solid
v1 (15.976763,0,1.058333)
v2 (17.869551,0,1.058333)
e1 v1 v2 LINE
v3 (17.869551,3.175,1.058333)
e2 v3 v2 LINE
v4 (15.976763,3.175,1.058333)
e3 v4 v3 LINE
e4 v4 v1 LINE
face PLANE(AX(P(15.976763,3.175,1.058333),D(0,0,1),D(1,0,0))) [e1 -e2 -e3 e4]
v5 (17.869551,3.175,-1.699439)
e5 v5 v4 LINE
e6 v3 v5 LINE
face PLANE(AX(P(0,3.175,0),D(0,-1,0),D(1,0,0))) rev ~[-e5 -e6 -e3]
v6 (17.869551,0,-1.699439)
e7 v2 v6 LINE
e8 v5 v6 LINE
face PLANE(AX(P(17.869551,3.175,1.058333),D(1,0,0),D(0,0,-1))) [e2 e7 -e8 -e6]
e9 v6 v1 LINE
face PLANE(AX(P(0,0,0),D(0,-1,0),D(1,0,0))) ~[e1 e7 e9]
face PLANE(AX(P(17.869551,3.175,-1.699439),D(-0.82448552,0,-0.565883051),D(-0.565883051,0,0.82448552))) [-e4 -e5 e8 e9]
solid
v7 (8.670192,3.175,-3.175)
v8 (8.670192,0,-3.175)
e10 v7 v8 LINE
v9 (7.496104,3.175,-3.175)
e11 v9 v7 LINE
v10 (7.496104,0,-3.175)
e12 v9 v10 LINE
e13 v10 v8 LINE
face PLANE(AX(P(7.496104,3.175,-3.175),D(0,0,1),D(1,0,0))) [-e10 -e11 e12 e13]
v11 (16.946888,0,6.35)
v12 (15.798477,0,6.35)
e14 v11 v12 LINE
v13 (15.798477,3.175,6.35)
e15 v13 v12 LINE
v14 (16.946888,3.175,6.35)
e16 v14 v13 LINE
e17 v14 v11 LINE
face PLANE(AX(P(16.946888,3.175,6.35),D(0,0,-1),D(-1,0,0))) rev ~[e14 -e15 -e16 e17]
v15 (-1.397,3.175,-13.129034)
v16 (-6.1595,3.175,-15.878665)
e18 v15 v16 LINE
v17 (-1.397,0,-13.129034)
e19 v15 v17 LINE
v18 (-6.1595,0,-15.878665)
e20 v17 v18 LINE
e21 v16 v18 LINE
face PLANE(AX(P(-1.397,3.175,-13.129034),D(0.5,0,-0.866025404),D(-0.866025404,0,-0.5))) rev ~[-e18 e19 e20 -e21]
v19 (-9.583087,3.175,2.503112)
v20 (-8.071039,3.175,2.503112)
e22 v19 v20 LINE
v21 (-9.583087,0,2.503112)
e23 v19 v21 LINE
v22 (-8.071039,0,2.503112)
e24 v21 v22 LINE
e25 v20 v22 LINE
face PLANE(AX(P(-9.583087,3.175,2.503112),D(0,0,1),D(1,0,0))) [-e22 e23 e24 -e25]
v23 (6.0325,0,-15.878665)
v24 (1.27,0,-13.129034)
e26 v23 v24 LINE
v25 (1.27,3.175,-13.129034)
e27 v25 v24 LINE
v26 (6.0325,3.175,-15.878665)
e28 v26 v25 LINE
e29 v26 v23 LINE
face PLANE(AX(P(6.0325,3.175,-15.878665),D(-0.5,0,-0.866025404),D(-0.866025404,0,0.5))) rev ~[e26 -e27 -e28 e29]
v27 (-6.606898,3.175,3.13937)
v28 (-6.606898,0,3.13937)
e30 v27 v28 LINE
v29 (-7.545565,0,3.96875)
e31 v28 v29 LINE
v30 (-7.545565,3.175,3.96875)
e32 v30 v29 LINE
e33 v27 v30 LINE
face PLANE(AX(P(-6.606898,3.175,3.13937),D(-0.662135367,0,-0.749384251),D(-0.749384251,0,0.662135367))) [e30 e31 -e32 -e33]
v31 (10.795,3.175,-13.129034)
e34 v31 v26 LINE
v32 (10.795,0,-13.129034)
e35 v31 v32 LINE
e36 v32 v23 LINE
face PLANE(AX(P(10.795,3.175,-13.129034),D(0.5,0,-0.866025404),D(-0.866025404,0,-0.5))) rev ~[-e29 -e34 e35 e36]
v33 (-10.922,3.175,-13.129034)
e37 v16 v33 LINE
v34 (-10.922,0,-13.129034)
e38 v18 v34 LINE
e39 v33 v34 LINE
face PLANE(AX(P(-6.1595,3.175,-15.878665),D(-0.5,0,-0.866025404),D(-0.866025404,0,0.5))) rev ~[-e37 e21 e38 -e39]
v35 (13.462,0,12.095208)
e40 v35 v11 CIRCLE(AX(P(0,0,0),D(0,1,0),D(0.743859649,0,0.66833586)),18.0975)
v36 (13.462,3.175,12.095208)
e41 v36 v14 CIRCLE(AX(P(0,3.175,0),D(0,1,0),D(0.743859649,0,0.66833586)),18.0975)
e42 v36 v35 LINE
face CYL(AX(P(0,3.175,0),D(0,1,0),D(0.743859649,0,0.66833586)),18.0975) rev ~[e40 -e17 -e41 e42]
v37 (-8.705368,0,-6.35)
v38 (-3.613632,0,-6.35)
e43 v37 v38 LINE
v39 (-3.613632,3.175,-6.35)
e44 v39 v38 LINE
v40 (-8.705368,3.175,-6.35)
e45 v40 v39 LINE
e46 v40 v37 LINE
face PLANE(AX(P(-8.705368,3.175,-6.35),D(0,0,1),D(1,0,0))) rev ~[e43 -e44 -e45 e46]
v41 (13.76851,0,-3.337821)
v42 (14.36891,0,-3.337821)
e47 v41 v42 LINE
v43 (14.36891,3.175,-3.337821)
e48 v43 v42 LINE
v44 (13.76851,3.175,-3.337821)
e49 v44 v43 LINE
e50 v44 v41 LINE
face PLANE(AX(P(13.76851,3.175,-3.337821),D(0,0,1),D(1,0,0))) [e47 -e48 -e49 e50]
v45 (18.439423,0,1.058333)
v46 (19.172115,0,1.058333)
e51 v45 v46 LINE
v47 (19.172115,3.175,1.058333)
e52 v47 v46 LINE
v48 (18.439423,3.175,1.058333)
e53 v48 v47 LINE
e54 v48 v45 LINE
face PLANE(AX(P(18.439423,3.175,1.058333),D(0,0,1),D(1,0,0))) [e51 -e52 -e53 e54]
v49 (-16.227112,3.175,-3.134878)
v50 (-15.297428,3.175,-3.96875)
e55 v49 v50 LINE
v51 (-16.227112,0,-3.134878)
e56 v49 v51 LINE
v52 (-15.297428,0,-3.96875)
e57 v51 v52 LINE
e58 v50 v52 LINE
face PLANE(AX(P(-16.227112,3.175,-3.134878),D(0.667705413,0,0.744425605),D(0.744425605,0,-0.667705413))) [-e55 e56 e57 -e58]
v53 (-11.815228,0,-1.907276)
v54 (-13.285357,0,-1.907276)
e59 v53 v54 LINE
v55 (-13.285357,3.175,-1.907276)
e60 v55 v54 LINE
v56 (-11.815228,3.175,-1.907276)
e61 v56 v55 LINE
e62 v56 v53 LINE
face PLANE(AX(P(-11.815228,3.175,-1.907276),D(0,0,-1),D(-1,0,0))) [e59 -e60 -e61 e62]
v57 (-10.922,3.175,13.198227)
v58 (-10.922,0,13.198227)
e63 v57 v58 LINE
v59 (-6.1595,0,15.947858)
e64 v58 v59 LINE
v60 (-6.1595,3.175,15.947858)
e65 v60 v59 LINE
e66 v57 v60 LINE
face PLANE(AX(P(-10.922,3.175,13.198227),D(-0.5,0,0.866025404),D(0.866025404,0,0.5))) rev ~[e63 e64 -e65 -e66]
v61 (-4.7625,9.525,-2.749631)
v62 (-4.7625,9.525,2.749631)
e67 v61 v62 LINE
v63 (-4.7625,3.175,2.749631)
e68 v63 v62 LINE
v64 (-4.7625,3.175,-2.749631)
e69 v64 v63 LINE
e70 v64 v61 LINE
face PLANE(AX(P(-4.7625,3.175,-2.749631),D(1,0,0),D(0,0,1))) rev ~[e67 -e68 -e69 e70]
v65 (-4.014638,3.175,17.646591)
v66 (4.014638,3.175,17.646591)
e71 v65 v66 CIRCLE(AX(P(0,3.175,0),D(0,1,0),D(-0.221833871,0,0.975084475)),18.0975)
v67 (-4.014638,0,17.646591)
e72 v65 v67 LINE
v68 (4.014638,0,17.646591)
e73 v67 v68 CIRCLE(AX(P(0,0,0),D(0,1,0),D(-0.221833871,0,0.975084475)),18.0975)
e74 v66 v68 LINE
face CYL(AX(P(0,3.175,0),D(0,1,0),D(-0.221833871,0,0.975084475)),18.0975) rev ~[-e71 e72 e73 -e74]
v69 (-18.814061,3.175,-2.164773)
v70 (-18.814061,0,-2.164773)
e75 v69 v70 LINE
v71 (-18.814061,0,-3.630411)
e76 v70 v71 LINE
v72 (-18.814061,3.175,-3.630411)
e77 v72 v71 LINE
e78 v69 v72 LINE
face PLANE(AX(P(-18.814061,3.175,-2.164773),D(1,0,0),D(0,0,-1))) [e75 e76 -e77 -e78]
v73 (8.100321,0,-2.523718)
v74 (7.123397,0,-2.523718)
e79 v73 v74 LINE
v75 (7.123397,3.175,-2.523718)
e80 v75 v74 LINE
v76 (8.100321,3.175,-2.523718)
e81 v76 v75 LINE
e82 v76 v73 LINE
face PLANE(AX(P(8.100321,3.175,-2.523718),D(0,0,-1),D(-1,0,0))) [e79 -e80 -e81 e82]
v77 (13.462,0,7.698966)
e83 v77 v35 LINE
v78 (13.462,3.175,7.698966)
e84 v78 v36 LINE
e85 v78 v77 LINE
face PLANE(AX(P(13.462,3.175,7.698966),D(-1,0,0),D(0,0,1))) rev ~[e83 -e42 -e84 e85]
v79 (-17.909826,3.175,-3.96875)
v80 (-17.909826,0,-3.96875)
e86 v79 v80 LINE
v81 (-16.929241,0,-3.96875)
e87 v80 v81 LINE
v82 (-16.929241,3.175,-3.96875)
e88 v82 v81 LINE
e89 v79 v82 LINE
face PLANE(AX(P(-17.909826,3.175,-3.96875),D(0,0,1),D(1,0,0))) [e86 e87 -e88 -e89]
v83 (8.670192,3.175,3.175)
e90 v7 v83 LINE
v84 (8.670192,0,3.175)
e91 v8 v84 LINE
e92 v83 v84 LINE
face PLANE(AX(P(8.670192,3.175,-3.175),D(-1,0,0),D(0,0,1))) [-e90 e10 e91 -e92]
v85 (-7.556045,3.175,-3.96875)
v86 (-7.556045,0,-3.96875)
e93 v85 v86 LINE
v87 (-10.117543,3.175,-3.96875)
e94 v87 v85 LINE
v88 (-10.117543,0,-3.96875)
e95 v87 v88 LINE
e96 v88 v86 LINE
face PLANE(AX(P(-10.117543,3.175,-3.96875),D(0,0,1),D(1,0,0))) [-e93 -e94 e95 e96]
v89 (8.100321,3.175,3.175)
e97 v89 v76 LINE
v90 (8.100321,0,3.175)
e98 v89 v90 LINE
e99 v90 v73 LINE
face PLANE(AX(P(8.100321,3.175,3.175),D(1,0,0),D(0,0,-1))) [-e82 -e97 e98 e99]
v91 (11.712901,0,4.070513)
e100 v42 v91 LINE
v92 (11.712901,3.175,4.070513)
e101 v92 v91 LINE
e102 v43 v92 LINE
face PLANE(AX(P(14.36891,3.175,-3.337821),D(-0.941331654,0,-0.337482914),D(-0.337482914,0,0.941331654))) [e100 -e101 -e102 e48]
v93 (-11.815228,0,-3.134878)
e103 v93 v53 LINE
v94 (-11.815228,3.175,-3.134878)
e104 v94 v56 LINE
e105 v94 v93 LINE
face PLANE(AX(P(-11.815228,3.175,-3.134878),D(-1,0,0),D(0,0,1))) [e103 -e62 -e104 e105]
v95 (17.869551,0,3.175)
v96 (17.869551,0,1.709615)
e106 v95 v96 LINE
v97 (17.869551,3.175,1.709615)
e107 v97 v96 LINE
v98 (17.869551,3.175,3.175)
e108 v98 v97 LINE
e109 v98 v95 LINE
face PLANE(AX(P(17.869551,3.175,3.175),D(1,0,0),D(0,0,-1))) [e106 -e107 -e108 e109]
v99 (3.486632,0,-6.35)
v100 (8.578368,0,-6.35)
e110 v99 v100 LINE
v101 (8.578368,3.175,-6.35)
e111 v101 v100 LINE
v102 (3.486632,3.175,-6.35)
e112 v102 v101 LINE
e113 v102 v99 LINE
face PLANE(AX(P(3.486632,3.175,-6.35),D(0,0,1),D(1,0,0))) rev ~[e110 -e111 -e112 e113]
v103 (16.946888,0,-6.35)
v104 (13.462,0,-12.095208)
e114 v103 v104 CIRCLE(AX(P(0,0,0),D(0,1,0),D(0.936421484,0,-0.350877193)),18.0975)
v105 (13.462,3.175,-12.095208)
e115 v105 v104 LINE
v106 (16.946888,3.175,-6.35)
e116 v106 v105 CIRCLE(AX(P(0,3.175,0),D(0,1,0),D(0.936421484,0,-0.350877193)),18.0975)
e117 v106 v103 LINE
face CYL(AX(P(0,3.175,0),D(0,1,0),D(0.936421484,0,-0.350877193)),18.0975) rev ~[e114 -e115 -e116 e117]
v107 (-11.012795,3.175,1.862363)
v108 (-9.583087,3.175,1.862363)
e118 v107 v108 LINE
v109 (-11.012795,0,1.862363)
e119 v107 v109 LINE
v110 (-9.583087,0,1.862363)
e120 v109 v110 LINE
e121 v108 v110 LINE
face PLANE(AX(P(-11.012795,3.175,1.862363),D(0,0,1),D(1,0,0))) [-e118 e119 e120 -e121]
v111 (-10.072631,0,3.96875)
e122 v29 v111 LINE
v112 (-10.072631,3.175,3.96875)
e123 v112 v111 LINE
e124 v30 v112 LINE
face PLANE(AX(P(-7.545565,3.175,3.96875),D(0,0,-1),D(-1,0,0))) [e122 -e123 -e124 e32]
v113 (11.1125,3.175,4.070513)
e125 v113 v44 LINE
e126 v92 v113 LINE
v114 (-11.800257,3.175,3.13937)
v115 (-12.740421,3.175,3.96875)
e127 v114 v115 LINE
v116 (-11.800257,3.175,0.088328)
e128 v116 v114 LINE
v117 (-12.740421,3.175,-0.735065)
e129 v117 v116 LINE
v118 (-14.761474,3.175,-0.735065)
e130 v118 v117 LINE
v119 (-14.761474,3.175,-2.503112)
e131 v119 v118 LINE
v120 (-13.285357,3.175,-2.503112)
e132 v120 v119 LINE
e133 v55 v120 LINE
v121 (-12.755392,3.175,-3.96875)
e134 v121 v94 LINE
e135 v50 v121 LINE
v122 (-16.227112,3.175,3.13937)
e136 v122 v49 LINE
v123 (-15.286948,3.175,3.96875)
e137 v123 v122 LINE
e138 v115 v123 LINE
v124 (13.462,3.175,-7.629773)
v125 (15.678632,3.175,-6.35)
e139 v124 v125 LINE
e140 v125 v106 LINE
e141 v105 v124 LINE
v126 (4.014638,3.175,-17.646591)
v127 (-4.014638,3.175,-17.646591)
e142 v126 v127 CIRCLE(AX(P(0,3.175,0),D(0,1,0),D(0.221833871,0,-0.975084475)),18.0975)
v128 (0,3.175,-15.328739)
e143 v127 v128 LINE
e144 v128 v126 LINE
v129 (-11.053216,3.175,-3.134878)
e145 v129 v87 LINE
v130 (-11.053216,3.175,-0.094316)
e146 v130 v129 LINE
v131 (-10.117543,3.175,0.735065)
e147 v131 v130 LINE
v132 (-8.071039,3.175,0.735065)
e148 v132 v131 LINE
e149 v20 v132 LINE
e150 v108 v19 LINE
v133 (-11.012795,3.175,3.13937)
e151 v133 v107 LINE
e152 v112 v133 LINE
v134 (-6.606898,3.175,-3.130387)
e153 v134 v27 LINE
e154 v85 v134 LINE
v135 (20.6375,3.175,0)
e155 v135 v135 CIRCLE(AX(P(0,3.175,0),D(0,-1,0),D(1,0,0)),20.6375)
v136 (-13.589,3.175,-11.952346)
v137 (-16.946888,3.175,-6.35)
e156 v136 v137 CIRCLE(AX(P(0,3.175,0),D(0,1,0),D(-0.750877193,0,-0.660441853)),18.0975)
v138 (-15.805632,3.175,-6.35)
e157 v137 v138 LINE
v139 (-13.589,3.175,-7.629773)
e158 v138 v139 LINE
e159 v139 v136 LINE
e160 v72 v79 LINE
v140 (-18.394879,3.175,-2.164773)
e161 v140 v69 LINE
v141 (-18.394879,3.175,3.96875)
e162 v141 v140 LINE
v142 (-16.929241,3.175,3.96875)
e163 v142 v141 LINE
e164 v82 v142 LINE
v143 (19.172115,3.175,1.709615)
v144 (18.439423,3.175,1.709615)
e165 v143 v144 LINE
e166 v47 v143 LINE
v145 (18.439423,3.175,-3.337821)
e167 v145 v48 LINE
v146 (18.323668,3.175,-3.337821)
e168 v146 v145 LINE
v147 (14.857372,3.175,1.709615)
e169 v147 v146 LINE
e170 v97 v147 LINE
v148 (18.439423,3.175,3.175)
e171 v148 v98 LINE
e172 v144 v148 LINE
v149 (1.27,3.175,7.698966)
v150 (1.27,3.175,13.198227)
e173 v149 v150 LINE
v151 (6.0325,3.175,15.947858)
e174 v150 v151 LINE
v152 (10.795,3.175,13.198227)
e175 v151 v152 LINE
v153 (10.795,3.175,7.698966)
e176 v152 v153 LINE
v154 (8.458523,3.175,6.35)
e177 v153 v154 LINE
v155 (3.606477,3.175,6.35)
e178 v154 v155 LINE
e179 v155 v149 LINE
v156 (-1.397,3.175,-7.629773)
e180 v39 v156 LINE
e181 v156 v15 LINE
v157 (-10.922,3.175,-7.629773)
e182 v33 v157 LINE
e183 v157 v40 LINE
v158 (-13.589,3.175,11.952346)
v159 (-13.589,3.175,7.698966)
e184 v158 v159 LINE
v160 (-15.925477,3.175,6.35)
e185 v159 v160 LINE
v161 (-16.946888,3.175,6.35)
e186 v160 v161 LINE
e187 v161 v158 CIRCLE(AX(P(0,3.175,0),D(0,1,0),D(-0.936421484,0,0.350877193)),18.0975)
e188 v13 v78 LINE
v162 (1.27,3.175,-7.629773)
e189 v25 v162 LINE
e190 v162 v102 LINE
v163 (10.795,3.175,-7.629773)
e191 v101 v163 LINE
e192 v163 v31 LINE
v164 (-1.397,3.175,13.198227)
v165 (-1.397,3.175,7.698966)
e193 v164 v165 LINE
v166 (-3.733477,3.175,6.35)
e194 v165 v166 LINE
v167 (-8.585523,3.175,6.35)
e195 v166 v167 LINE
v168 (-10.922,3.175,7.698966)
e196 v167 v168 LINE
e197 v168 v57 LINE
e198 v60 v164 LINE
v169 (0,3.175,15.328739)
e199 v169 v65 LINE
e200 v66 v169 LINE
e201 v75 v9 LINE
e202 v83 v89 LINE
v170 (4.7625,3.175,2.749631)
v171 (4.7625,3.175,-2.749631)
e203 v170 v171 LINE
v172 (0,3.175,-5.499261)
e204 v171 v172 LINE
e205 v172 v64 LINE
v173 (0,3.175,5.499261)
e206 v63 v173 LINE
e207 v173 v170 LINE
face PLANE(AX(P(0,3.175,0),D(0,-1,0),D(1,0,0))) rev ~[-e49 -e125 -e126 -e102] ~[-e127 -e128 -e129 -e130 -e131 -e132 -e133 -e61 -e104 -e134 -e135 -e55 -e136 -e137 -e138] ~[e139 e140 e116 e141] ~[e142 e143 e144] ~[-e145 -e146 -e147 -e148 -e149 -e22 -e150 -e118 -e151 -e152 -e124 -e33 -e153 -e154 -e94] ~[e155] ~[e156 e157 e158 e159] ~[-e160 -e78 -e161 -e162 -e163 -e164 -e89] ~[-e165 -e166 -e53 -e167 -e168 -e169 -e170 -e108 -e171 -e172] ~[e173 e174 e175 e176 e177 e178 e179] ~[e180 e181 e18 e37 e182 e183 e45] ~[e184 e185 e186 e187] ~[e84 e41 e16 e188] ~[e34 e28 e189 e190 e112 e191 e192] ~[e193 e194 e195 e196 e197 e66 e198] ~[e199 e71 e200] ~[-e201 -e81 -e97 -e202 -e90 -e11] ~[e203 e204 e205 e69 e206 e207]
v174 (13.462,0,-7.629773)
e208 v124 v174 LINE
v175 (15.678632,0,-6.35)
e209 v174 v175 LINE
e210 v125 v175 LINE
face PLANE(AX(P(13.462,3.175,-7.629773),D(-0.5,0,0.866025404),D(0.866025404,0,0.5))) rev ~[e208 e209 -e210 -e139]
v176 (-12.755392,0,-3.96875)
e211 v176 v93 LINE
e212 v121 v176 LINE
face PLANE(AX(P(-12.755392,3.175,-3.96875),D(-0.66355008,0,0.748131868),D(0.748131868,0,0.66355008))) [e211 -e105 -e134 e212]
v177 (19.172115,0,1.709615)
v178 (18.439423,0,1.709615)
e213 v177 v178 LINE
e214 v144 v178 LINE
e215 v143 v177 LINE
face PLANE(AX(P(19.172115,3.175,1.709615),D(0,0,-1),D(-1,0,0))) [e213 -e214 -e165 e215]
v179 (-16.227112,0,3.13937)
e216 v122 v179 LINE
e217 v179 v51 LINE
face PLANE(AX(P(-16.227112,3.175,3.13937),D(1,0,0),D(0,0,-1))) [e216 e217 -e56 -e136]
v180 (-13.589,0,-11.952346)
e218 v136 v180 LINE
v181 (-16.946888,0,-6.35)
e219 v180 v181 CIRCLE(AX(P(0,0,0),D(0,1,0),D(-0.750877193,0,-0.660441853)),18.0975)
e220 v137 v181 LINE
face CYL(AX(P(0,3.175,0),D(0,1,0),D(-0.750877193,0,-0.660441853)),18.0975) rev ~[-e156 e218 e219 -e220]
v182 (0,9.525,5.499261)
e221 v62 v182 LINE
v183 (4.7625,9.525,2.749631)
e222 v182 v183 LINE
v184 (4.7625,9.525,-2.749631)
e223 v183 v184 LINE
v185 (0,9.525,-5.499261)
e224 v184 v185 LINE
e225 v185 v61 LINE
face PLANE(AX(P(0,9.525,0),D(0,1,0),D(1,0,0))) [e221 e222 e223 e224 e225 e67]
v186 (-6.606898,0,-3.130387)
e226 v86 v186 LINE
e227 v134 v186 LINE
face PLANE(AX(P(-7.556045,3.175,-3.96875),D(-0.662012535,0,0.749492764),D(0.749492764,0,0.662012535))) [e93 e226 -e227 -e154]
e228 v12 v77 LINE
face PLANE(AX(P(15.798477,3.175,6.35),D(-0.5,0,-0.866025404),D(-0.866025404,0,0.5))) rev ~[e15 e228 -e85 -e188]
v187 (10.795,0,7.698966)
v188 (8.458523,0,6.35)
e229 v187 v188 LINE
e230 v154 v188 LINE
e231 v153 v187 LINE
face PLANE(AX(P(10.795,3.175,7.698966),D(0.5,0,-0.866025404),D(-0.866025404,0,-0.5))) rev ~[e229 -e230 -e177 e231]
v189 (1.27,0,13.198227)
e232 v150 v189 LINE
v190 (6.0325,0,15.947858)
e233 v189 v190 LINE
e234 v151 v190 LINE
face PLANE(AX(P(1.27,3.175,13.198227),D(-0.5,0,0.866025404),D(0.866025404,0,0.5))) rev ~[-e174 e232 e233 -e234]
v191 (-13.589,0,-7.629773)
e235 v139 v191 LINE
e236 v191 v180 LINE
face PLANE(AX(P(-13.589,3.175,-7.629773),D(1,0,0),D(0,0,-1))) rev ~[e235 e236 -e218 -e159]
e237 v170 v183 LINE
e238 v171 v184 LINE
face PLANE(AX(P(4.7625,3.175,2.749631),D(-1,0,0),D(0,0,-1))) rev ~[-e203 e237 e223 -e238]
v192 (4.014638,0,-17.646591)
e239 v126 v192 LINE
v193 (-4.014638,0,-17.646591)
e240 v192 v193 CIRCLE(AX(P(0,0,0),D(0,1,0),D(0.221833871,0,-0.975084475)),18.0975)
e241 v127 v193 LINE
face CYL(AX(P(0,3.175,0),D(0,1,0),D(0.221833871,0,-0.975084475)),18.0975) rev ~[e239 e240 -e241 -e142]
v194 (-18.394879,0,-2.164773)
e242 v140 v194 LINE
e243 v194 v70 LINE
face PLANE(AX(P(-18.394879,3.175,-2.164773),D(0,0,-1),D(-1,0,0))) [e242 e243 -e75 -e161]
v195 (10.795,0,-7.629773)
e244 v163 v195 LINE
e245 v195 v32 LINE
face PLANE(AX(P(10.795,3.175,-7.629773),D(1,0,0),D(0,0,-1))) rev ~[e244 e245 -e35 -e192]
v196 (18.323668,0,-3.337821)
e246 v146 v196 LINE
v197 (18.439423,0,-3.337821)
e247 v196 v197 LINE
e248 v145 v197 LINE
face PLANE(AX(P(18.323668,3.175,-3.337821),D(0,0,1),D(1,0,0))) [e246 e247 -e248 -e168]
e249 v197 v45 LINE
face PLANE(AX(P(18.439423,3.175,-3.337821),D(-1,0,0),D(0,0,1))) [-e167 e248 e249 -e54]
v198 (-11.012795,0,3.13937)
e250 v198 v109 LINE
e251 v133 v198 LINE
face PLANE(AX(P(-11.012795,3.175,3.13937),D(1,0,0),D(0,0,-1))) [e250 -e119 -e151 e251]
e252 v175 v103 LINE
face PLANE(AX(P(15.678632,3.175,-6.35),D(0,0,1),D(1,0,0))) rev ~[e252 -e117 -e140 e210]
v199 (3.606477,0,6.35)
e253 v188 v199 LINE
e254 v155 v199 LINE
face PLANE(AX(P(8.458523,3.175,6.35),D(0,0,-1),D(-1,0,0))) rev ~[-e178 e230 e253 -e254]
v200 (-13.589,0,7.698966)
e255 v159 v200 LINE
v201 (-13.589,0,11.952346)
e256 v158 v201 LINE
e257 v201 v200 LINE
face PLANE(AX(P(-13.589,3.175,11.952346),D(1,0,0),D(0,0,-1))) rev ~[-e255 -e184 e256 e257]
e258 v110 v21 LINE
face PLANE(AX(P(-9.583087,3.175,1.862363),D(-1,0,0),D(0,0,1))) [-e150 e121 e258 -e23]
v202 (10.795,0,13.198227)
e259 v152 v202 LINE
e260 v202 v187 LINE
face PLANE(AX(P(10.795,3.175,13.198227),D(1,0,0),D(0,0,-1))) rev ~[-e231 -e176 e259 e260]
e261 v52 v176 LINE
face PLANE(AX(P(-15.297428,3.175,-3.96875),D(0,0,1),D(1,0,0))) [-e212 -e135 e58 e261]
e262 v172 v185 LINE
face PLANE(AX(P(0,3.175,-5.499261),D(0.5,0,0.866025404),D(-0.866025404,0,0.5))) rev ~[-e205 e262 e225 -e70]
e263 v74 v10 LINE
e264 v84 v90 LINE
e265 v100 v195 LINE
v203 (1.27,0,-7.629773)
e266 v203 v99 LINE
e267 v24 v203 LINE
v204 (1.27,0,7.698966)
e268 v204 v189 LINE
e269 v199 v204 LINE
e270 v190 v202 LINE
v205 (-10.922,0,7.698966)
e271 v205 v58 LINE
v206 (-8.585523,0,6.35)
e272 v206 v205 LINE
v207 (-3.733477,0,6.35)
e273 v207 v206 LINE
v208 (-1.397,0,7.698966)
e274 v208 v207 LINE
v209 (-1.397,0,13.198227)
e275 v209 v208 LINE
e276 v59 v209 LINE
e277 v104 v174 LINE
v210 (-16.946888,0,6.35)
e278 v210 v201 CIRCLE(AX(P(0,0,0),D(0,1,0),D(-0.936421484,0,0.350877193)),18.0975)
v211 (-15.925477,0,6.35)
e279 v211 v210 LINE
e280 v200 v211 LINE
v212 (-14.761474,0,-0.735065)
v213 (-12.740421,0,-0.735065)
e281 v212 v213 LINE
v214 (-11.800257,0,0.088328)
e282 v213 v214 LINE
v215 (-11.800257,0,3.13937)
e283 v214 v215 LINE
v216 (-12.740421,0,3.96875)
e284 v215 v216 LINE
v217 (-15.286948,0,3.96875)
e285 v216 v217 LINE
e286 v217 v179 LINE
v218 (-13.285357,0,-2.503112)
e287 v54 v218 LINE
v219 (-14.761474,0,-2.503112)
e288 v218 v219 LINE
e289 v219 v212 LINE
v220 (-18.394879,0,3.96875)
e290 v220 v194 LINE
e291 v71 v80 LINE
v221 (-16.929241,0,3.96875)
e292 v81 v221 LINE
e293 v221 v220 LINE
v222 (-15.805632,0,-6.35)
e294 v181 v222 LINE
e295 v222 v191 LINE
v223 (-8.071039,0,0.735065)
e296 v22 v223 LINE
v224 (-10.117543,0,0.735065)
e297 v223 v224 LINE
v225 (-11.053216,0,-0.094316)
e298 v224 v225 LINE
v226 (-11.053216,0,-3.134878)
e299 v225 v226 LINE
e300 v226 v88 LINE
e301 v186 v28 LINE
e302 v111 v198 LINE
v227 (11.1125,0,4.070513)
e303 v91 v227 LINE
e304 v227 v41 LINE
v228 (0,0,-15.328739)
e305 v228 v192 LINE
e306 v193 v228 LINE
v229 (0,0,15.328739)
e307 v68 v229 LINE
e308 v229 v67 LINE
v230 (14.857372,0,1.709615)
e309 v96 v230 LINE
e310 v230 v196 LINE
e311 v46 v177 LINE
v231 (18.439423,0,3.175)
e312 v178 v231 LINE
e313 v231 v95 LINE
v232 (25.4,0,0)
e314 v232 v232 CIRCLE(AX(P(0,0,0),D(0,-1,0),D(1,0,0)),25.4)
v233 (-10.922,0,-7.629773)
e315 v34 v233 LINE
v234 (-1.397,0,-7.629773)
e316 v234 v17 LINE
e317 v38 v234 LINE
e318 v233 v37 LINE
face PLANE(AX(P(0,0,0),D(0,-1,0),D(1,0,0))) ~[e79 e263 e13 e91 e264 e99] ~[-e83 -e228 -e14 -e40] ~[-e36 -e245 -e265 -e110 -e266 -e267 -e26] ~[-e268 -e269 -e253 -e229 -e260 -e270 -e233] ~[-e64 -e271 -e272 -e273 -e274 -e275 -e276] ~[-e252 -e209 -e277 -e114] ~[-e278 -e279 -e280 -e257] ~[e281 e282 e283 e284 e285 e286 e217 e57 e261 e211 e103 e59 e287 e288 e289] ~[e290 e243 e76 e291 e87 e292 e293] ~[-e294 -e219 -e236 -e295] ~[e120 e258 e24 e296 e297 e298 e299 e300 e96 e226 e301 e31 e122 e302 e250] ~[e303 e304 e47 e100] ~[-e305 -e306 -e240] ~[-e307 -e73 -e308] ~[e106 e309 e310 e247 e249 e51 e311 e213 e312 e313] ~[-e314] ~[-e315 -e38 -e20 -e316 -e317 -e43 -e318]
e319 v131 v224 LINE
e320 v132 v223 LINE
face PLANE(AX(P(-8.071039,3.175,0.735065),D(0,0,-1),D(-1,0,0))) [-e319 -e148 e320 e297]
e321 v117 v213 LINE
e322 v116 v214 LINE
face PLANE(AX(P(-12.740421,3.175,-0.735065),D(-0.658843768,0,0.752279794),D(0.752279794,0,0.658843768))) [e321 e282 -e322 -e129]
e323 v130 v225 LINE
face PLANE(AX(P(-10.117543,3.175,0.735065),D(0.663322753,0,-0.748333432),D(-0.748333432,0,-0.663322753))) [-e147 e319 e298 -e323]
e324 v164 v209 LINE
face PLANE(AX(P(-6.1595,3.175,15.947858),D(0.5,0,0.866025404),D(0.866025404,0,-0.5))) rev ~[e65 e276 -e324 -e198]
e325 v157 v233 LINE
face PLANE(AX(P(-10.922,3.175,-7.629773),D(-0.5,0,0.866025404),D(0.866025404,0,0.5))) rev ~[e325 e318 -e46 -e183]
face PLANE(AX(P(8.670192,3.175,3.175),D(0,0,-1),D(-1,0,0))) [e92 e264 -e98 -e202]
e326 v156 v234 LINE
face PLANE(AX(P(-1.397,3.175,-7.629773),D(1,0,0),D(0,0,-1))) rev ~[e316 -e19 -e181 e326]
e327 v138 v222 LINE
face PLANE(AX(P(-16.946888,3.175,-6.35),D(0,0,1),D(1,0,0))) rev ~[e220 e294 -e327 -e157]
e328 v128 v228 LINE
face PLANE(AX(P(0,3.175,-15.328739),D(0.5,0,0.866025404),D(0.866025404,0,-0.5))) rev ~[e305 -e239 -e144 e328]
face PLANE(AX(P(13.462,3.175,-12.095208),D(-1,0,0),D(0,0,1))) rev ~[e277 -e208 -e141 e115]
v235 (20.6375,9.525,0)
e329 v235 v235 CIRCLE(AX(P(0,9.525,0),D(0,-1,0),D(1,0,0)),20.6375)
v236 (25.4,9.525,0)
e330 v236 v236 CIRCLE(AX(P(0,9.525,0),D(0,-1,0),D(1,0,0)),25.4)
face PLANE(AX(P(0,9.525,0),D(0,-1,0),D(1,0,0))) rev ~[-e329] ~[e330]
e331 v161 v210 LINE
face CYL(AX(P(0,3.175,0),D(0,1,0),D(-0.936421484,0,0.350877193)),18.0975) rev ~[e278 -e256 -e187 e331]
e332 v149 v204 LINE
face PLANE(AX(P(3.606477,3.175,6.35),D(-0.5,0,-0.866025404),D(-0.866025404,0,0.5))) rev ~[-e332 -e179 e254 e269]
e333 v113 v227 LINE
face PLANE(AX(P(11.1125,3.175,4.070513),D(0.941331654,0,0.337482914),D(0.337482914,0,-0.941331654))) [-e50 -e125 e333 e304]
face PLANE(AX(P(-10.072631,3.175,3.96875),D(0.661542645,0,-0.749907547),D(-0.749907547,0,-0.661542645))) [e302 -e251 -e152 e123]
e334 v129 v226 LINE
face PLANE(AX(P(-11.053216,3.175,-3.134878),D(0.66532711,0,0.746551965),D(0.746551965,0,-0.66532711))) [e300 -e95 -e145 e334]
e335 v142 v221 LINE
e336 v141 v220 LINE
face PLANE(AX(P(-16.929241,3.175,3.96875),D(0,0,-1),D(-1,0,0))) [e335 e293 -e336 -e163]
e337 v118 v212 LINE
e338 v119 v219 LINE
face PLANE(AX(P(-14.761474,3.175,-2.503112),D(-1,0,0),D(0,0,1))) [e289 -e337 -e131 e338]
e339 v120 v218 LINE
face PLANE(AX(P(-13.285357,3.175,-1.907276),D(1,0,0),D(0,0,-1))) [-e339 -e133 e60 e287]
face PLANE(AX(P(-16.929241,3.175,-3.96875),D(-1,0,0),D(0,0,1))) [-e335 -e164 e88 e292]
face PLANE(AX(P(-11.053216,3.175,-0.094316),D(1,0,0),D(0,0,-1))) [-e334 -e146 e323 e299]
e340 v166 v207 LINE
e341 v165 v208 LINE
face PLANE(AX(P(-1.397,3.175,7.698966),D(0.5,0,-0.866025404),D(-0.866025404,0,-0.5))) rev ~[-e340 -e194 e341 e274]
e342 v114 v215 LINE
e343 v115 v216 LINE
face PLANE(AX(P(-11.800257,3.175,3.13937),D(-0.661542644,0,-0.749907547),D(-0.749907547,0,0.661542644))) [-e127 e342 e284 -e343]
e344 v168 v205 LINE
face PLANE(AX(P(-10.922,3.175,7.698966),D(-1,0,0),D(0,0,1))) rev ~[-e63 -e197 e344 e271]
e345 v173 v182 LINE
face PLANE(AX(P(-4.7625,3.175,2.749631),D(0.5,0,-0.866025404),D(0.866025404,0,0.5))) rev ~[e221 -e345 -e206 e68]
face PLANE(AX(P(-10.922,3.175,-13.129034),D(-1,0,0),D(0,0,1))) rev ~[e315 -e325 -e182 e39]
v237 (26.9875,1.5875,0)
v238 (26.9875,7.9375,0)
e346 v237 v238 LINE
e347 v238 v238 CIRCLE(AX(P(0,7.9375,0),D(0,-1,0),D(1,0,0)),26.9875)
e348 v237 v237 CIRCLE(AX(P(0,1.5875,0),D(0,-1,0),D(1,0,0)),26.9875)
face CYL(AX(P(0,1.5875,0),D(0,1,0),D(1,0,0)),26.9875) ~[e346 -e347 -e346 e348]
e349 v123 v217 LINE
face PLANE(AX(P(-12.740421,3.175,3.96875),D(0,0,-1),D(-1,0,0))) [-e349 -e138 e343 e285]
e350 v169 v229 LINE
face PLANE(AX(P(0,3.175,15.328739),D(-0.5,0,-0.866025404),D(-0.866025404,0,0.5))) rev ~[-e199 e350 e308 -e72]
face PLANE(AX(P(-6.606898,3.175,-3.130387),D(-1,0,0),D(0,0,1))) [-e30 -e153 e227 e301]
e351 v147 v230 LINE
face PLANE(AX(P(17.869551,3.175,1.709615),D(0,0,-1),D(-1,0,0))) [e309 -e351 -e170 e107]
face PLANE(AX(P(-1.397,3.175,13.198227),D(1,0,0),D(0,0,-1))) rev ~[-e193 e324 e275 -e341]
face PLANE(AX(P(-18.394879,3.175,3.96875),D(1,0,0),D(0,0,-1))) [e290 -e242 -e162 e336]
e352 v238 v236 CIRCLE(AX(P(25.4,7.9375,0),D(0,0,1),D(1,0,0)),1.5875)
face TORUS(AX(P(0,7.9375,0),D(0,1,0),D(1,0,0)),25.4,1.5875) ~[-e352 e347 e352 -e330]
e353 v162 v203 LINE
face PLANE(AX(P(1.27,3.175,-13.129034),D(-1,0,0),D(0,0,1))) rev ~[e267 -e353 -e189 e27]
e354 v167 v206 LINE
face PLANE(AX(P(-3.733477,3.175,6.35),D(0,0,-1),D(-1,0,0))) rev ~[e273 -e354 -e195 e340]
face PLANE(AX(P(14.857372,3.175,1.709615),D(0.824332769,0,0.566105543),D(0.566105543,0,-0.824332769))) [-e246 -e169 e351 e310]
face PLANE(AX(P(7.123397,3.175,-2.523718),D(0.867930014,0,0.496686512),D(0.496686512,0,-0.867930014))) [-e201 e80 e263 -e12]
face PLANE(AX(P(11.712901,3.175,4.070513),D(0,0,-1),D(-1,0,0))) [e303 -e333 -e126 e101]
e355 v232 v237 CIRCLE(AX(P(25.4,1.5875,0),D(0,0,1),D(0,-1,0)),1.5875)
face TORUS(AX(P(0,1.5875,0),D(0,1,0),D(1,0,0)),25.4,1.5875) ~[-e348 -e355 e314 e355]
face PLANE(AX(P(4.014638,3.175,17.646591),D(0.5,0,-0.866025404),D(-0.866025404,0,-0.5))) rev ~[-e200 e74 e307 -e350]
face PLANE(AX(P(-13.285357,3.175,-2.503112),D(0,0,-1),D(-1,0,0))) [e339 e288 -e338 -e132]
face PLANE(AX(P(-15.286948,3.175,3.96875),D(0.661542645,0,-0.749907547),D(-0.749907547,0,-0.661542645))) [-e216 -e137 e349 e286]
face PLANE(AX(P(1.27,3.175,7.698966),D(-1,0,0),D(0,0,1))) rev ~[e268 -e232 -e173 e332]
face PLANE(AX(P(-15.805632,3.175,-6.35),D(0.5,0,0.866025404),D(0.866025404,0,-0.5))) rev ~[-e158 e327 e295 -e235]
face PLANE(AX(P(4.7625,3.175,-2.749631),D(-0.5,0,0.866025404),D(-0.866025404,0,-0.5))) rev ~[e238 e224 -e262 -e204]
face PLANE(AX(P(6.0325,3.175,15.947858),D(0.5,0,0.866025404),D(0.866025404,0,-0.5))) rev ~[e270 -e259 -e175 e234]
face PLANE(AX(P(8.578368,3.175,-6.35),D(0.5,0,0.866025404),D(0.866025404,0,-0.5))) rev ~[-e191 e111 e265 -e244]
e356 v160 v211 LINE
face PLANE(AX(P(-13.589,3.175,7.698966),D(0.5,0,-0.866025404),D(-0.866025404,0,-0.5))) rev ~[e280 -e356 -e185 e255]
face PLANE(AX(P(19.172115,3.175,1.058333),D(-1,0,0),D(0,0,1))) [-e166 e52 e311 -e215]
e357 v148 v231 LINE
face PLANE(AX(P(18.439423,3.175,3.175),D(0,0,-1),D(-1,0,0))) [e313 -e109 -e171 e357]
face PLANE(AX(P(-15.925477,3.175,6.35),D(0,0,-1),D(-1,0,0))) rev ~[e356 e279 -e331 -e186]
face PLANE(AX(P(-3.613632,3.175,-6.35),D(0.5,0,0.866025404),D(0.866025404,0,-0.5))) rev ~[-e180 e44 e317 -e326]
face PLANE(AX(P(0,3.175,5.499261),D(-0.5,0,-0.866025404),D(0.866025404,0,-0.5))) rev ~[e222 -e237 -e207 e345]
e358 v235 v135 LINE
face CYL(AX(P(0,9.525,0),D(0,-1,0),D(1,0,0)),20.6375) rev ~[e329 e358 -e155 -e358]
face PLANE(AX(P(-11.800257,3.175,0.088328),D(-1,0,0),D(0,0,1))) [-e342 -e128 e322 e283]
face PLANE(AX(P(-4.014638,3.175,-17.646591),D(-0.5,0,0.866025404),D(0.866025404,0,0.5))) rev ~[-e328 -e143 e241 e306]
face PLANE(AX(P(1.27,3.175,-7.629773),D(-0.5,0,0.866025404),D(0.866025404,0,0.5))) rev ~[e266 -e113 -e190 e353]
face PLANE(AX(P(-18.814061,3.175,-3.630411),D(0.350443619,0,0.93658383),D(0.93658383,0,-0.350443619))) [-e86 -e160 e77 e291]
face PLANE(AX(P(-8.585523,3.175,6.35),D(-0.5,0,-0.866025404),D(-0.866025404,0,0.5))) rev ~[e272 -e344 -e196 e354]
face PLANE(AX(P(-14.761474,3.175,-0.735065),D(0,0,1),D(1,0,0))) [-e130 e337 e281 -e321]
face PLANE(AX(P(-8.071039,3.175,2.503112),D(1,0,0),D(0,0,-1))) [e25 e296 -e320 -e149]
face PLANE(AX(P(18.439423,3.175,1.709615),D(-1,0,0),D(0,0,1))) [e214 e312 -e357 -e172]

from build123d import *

# Parameters (mm, degrees)
BOSS_EXTRUDE1_DEPTH     = 6.35
CUT_EXTRUDE1_DEPTH      = 7.35
CUT_EXTRUDE1_DEPTH_BACK = 4.175
CUT_EXTRUDE2_DEPTH      = 7.35
CUT_EXTRUDE2_DEPTH_BACK = 4.175


with BuildPart() as part:
    # Sketch1 → Revolve1 (revolve)
    with BuildSketch(Plane.XY):
        with BuildLine():
            Line((0, 0), (25.4, 0))
            ThreePointArc((25.4, 0), (26.522532015, 0.464967985), (26.9875, 1.5875))
            Line((26.9875, 1.5875), (26.9875, 7.9375))
            ThreePointArc((26.9875, 7.9375), (26.522532015, 9.060032015), (25.4, 9.525))
            Line((25.4, 9.525), (20.6375, 9.525))
            Line((20.6375, 9.525), (20.6375, 3.175))
            Line((20.6375, 3.175), (0, 3.175))
            Line((0, 3.175), (0, 0))
        make_face()
    revolve(axis=Axis((0, 3.175, 0), (0, -1, 0)))

    # Sketch2 → Boss-Extrude1 (add)
    with BuildSketch(Plane(origin=(0, 3.175, 0), x_dir=(1, 0, 0), z_dir=(0, 1, 0))):
        Polygon((0, 5.499261314), (-4.7625, 2.749630657), (-4.7625, -2.749630657), (0, -5.499261314), (4.7625, -2.749630657), (4.7625, 2.749630657), align=None)
    extrude(amount=BOSS_EXTRUDE1_DEPTH)

    # Sketch3 → Cut-Extrude1 (cut, two sides)
    with BuildSketch(Plane(origin=(0, 3.175, 0), x_dir=(1, 0, 0), z_dir=(0, 1, 0))) as cut_extrude1_sk:
        Polygon((-6.60689834, -3.139369578), (-7.545565353, -3.96875), (-10.072630611, -3.96875), (-11.0127947, -3.139369578), (-11.0127947, -1.862363259), (-9.583086571, -1.862363259), (-9.583086571, -2.503112033), (-8.07103923, -2.503112033), (-8.07103923, -0.735064598), (-10.117542908, -0.735064598), (-11.053215768, 0.094315824), (-11.053215768, 3.134878348), (-10.117542908, 3.96875), (-7.556044889, 3.96875), (-6.60689834, 3.130387118), align=None)
        Polygon((-11.800256978, -3.139369578), (-12.740421068, -3.96875), (-15.286948321, -3.96875), (-16.22711241, -3.139369578), (-16.22711241, 3.134878348), (-15.297427857, 3.96875), (-12.755391833, 3.96875), (-11.815227744, 3.134878348), (-11.815227744, 1.907275556), (-13.285356941, 1.907275556), (-13.285356941, 2.503112033), (-14.761474444, 2.503112033), (-14.761474444, 0.735064598), (-12.740421068, 0.735064598), (-11.800256978, -0.088327518), align=None)
        Polygon((-16.929241324, -3.96875), (-18.394879291, -3.96875), (-18.394879291, 2.164772727), (-18.814060732, 2.164772727), (-18.814060732, 3.630410694), (-17.909826481, 3.96875), (-16.929241324, 3.96875), align=None)
        Polygon((7.496103766, 3.175), (8.670192308, 3.175), (8.670192308, -3.175), (8.100320513, -3.175), (8.100320513, 2.523717949), (7.123397436, 2.523717949), align=None)
        Polygon((14.368910256, 3.337820513), (11.712900641, -4.070512821), (11.1125, -4.070512821), (13.768509615, 3.337820513), align=None)
        Polygon((18.323667869, 3.337820513), (18.439423077, 3.337820513), (18.439423077, -1.058333333), (19.172115385, -1.058333333), (19.172115385, -1.709615385), (18.439423077, -1.709615385), (18.439423077, -3.175), (17.869551282, -3.175), (17.869551282, -1.709615385), (14.857371795, -1.709615385), align=None)
        Polygon((17.869551282, -1.058333333), (17.869551282, 1.699439103), (15.976762821, -1.058333333), align=None, mode=Mode.SUBTRACT)
    extrude(amount=CUT_EXTRUDE1_DEPTH, mode=Mode.SUBTRACT)
    extrude(cut_extrude1_sk.sketch, amount=-CUT_EXTRUDE1_DEPTH_BACK, mode=Mode.SUBTRACT)

    # Sketch4 → Cut-Extrude2 (cut, two sides)
    with BuildSketch(Plane(origin=(0, 3.175, 0), x_dir=(1, 0, 0), z_dir=(0, 1, 0))) as cut_extrude2_sk:
        with BuildLine():
            Line((-16.946887804, 6.35), (-15.805631592, 6.35))
            Line((-15.805631592, 6.35), (-13.589, 7.629772846))
            Line((-13.589, 7.629772846), (-13.589, 11.952346433))
            ThreePointArc((-13.589, 11.952346433), (-15.522779467, 9.303914438), (-16.946887804, 6.35))
        make_face()
        Polygon((-8.705368408, 6.35), (-3.613631592, 6.35), (-1.397, 7.629772846), (-1.397, 13.12903416), (-6.1595, 15.878664817), (-10.922, 13.12903416), (-10.922, 7.629772846), align=None)
        with BuildLine():
            ThreePointArc((4.014638475, 17.64659129), (0, 18.0975), (-4.014638475, 17.64659129))
            Line((-4.014638475, 17.64659129), (0, 15.328738686))
            Line((0, 15.328738686), (4.014638475, 17.64659129))
        make_face()
        Polygon((1.27, 7.629772846), (3.486631592, 6.35), (8.578368408, 6.35), (10.795, 7.629772846), (10.795, 13.12903416), (6.0325, 15.878664817), (1.27, 13.12903416), align=None)
        with BuildLine():
            Line((13.462, 7.629772846), (15.678631592, 6.35))
            Line((15.678631592, 6.35), (16.946887804, 6.35))
            ThreePointArc((16.946887804, 6.35), (15.473427829, 9.385762487), (13.462, 12.095208235))
            Line((13.462, 12.095208235), (13.462, 7.629772846))
        make_face()
        Polygon((8.458522628, -6.35), (3.606477372, -6.35), (1.27, -7.69896584), (1.27, -13.198227154), (6.0325, -15.947857811), (10.795, -13.198227154), (10.795, -7.69896584), align=None)
        with BuildLine():
            Line((16.946887804, -6.35), (15.798477372, -6.35))
            Line((15.798477372, -6.35), (13.462, -7.69896584))
            Line((13.462, -7.69896584), (13.462, -12.095208235))
            ThreePointArc((13.462, -12.095208235), (15.473427829, -9.385762487), (16.946887804, -6.35))
        make_face()
        with BuildLine():
            Line((0, -15.328738686), (-4.014638475, -17.64659129))
            ThreePointArc((-4.014638475, -17.64659129), (0, -18.0975), (4.014638475, -17.64659129))
            Line((4.014638475, -17.64659129), (0, -15.328738686))
        make_face()
        Polygon((-1.397, -7.69896584), (-3.733477372, -6.35), (-8.585522628, -6.35), (-10.922, -7.69896584), (-10.922, -13.198227154), (-6.1595, -15.947857811), (-1.397, -13.198227154), align=None)
        with BuildLine():
            Line((-13.589, -7.69896584), (-15.925477372, -6.35))
            Line((-15.925477372, -6.35), (-16.946887804, -6.35))
            ThreePointArc((-16.946887804, -6.35), (-15.522779467, -9.303914438), (-13.589, -11.952346433))
            Line((-13.589, -11.952346433), (-13.589, -7.69896584))
        make_face()
    extrude(amount=CUT_EXTRUDE2_DEPTH, mode=Mode.SUBTRACT)
    extrude(cut_extrude2_sk.sketch, amount=-CUT_EXTRUDE2_DEPTH_BACK, mode=Mode.SUBTRACT)


solid = part.part
